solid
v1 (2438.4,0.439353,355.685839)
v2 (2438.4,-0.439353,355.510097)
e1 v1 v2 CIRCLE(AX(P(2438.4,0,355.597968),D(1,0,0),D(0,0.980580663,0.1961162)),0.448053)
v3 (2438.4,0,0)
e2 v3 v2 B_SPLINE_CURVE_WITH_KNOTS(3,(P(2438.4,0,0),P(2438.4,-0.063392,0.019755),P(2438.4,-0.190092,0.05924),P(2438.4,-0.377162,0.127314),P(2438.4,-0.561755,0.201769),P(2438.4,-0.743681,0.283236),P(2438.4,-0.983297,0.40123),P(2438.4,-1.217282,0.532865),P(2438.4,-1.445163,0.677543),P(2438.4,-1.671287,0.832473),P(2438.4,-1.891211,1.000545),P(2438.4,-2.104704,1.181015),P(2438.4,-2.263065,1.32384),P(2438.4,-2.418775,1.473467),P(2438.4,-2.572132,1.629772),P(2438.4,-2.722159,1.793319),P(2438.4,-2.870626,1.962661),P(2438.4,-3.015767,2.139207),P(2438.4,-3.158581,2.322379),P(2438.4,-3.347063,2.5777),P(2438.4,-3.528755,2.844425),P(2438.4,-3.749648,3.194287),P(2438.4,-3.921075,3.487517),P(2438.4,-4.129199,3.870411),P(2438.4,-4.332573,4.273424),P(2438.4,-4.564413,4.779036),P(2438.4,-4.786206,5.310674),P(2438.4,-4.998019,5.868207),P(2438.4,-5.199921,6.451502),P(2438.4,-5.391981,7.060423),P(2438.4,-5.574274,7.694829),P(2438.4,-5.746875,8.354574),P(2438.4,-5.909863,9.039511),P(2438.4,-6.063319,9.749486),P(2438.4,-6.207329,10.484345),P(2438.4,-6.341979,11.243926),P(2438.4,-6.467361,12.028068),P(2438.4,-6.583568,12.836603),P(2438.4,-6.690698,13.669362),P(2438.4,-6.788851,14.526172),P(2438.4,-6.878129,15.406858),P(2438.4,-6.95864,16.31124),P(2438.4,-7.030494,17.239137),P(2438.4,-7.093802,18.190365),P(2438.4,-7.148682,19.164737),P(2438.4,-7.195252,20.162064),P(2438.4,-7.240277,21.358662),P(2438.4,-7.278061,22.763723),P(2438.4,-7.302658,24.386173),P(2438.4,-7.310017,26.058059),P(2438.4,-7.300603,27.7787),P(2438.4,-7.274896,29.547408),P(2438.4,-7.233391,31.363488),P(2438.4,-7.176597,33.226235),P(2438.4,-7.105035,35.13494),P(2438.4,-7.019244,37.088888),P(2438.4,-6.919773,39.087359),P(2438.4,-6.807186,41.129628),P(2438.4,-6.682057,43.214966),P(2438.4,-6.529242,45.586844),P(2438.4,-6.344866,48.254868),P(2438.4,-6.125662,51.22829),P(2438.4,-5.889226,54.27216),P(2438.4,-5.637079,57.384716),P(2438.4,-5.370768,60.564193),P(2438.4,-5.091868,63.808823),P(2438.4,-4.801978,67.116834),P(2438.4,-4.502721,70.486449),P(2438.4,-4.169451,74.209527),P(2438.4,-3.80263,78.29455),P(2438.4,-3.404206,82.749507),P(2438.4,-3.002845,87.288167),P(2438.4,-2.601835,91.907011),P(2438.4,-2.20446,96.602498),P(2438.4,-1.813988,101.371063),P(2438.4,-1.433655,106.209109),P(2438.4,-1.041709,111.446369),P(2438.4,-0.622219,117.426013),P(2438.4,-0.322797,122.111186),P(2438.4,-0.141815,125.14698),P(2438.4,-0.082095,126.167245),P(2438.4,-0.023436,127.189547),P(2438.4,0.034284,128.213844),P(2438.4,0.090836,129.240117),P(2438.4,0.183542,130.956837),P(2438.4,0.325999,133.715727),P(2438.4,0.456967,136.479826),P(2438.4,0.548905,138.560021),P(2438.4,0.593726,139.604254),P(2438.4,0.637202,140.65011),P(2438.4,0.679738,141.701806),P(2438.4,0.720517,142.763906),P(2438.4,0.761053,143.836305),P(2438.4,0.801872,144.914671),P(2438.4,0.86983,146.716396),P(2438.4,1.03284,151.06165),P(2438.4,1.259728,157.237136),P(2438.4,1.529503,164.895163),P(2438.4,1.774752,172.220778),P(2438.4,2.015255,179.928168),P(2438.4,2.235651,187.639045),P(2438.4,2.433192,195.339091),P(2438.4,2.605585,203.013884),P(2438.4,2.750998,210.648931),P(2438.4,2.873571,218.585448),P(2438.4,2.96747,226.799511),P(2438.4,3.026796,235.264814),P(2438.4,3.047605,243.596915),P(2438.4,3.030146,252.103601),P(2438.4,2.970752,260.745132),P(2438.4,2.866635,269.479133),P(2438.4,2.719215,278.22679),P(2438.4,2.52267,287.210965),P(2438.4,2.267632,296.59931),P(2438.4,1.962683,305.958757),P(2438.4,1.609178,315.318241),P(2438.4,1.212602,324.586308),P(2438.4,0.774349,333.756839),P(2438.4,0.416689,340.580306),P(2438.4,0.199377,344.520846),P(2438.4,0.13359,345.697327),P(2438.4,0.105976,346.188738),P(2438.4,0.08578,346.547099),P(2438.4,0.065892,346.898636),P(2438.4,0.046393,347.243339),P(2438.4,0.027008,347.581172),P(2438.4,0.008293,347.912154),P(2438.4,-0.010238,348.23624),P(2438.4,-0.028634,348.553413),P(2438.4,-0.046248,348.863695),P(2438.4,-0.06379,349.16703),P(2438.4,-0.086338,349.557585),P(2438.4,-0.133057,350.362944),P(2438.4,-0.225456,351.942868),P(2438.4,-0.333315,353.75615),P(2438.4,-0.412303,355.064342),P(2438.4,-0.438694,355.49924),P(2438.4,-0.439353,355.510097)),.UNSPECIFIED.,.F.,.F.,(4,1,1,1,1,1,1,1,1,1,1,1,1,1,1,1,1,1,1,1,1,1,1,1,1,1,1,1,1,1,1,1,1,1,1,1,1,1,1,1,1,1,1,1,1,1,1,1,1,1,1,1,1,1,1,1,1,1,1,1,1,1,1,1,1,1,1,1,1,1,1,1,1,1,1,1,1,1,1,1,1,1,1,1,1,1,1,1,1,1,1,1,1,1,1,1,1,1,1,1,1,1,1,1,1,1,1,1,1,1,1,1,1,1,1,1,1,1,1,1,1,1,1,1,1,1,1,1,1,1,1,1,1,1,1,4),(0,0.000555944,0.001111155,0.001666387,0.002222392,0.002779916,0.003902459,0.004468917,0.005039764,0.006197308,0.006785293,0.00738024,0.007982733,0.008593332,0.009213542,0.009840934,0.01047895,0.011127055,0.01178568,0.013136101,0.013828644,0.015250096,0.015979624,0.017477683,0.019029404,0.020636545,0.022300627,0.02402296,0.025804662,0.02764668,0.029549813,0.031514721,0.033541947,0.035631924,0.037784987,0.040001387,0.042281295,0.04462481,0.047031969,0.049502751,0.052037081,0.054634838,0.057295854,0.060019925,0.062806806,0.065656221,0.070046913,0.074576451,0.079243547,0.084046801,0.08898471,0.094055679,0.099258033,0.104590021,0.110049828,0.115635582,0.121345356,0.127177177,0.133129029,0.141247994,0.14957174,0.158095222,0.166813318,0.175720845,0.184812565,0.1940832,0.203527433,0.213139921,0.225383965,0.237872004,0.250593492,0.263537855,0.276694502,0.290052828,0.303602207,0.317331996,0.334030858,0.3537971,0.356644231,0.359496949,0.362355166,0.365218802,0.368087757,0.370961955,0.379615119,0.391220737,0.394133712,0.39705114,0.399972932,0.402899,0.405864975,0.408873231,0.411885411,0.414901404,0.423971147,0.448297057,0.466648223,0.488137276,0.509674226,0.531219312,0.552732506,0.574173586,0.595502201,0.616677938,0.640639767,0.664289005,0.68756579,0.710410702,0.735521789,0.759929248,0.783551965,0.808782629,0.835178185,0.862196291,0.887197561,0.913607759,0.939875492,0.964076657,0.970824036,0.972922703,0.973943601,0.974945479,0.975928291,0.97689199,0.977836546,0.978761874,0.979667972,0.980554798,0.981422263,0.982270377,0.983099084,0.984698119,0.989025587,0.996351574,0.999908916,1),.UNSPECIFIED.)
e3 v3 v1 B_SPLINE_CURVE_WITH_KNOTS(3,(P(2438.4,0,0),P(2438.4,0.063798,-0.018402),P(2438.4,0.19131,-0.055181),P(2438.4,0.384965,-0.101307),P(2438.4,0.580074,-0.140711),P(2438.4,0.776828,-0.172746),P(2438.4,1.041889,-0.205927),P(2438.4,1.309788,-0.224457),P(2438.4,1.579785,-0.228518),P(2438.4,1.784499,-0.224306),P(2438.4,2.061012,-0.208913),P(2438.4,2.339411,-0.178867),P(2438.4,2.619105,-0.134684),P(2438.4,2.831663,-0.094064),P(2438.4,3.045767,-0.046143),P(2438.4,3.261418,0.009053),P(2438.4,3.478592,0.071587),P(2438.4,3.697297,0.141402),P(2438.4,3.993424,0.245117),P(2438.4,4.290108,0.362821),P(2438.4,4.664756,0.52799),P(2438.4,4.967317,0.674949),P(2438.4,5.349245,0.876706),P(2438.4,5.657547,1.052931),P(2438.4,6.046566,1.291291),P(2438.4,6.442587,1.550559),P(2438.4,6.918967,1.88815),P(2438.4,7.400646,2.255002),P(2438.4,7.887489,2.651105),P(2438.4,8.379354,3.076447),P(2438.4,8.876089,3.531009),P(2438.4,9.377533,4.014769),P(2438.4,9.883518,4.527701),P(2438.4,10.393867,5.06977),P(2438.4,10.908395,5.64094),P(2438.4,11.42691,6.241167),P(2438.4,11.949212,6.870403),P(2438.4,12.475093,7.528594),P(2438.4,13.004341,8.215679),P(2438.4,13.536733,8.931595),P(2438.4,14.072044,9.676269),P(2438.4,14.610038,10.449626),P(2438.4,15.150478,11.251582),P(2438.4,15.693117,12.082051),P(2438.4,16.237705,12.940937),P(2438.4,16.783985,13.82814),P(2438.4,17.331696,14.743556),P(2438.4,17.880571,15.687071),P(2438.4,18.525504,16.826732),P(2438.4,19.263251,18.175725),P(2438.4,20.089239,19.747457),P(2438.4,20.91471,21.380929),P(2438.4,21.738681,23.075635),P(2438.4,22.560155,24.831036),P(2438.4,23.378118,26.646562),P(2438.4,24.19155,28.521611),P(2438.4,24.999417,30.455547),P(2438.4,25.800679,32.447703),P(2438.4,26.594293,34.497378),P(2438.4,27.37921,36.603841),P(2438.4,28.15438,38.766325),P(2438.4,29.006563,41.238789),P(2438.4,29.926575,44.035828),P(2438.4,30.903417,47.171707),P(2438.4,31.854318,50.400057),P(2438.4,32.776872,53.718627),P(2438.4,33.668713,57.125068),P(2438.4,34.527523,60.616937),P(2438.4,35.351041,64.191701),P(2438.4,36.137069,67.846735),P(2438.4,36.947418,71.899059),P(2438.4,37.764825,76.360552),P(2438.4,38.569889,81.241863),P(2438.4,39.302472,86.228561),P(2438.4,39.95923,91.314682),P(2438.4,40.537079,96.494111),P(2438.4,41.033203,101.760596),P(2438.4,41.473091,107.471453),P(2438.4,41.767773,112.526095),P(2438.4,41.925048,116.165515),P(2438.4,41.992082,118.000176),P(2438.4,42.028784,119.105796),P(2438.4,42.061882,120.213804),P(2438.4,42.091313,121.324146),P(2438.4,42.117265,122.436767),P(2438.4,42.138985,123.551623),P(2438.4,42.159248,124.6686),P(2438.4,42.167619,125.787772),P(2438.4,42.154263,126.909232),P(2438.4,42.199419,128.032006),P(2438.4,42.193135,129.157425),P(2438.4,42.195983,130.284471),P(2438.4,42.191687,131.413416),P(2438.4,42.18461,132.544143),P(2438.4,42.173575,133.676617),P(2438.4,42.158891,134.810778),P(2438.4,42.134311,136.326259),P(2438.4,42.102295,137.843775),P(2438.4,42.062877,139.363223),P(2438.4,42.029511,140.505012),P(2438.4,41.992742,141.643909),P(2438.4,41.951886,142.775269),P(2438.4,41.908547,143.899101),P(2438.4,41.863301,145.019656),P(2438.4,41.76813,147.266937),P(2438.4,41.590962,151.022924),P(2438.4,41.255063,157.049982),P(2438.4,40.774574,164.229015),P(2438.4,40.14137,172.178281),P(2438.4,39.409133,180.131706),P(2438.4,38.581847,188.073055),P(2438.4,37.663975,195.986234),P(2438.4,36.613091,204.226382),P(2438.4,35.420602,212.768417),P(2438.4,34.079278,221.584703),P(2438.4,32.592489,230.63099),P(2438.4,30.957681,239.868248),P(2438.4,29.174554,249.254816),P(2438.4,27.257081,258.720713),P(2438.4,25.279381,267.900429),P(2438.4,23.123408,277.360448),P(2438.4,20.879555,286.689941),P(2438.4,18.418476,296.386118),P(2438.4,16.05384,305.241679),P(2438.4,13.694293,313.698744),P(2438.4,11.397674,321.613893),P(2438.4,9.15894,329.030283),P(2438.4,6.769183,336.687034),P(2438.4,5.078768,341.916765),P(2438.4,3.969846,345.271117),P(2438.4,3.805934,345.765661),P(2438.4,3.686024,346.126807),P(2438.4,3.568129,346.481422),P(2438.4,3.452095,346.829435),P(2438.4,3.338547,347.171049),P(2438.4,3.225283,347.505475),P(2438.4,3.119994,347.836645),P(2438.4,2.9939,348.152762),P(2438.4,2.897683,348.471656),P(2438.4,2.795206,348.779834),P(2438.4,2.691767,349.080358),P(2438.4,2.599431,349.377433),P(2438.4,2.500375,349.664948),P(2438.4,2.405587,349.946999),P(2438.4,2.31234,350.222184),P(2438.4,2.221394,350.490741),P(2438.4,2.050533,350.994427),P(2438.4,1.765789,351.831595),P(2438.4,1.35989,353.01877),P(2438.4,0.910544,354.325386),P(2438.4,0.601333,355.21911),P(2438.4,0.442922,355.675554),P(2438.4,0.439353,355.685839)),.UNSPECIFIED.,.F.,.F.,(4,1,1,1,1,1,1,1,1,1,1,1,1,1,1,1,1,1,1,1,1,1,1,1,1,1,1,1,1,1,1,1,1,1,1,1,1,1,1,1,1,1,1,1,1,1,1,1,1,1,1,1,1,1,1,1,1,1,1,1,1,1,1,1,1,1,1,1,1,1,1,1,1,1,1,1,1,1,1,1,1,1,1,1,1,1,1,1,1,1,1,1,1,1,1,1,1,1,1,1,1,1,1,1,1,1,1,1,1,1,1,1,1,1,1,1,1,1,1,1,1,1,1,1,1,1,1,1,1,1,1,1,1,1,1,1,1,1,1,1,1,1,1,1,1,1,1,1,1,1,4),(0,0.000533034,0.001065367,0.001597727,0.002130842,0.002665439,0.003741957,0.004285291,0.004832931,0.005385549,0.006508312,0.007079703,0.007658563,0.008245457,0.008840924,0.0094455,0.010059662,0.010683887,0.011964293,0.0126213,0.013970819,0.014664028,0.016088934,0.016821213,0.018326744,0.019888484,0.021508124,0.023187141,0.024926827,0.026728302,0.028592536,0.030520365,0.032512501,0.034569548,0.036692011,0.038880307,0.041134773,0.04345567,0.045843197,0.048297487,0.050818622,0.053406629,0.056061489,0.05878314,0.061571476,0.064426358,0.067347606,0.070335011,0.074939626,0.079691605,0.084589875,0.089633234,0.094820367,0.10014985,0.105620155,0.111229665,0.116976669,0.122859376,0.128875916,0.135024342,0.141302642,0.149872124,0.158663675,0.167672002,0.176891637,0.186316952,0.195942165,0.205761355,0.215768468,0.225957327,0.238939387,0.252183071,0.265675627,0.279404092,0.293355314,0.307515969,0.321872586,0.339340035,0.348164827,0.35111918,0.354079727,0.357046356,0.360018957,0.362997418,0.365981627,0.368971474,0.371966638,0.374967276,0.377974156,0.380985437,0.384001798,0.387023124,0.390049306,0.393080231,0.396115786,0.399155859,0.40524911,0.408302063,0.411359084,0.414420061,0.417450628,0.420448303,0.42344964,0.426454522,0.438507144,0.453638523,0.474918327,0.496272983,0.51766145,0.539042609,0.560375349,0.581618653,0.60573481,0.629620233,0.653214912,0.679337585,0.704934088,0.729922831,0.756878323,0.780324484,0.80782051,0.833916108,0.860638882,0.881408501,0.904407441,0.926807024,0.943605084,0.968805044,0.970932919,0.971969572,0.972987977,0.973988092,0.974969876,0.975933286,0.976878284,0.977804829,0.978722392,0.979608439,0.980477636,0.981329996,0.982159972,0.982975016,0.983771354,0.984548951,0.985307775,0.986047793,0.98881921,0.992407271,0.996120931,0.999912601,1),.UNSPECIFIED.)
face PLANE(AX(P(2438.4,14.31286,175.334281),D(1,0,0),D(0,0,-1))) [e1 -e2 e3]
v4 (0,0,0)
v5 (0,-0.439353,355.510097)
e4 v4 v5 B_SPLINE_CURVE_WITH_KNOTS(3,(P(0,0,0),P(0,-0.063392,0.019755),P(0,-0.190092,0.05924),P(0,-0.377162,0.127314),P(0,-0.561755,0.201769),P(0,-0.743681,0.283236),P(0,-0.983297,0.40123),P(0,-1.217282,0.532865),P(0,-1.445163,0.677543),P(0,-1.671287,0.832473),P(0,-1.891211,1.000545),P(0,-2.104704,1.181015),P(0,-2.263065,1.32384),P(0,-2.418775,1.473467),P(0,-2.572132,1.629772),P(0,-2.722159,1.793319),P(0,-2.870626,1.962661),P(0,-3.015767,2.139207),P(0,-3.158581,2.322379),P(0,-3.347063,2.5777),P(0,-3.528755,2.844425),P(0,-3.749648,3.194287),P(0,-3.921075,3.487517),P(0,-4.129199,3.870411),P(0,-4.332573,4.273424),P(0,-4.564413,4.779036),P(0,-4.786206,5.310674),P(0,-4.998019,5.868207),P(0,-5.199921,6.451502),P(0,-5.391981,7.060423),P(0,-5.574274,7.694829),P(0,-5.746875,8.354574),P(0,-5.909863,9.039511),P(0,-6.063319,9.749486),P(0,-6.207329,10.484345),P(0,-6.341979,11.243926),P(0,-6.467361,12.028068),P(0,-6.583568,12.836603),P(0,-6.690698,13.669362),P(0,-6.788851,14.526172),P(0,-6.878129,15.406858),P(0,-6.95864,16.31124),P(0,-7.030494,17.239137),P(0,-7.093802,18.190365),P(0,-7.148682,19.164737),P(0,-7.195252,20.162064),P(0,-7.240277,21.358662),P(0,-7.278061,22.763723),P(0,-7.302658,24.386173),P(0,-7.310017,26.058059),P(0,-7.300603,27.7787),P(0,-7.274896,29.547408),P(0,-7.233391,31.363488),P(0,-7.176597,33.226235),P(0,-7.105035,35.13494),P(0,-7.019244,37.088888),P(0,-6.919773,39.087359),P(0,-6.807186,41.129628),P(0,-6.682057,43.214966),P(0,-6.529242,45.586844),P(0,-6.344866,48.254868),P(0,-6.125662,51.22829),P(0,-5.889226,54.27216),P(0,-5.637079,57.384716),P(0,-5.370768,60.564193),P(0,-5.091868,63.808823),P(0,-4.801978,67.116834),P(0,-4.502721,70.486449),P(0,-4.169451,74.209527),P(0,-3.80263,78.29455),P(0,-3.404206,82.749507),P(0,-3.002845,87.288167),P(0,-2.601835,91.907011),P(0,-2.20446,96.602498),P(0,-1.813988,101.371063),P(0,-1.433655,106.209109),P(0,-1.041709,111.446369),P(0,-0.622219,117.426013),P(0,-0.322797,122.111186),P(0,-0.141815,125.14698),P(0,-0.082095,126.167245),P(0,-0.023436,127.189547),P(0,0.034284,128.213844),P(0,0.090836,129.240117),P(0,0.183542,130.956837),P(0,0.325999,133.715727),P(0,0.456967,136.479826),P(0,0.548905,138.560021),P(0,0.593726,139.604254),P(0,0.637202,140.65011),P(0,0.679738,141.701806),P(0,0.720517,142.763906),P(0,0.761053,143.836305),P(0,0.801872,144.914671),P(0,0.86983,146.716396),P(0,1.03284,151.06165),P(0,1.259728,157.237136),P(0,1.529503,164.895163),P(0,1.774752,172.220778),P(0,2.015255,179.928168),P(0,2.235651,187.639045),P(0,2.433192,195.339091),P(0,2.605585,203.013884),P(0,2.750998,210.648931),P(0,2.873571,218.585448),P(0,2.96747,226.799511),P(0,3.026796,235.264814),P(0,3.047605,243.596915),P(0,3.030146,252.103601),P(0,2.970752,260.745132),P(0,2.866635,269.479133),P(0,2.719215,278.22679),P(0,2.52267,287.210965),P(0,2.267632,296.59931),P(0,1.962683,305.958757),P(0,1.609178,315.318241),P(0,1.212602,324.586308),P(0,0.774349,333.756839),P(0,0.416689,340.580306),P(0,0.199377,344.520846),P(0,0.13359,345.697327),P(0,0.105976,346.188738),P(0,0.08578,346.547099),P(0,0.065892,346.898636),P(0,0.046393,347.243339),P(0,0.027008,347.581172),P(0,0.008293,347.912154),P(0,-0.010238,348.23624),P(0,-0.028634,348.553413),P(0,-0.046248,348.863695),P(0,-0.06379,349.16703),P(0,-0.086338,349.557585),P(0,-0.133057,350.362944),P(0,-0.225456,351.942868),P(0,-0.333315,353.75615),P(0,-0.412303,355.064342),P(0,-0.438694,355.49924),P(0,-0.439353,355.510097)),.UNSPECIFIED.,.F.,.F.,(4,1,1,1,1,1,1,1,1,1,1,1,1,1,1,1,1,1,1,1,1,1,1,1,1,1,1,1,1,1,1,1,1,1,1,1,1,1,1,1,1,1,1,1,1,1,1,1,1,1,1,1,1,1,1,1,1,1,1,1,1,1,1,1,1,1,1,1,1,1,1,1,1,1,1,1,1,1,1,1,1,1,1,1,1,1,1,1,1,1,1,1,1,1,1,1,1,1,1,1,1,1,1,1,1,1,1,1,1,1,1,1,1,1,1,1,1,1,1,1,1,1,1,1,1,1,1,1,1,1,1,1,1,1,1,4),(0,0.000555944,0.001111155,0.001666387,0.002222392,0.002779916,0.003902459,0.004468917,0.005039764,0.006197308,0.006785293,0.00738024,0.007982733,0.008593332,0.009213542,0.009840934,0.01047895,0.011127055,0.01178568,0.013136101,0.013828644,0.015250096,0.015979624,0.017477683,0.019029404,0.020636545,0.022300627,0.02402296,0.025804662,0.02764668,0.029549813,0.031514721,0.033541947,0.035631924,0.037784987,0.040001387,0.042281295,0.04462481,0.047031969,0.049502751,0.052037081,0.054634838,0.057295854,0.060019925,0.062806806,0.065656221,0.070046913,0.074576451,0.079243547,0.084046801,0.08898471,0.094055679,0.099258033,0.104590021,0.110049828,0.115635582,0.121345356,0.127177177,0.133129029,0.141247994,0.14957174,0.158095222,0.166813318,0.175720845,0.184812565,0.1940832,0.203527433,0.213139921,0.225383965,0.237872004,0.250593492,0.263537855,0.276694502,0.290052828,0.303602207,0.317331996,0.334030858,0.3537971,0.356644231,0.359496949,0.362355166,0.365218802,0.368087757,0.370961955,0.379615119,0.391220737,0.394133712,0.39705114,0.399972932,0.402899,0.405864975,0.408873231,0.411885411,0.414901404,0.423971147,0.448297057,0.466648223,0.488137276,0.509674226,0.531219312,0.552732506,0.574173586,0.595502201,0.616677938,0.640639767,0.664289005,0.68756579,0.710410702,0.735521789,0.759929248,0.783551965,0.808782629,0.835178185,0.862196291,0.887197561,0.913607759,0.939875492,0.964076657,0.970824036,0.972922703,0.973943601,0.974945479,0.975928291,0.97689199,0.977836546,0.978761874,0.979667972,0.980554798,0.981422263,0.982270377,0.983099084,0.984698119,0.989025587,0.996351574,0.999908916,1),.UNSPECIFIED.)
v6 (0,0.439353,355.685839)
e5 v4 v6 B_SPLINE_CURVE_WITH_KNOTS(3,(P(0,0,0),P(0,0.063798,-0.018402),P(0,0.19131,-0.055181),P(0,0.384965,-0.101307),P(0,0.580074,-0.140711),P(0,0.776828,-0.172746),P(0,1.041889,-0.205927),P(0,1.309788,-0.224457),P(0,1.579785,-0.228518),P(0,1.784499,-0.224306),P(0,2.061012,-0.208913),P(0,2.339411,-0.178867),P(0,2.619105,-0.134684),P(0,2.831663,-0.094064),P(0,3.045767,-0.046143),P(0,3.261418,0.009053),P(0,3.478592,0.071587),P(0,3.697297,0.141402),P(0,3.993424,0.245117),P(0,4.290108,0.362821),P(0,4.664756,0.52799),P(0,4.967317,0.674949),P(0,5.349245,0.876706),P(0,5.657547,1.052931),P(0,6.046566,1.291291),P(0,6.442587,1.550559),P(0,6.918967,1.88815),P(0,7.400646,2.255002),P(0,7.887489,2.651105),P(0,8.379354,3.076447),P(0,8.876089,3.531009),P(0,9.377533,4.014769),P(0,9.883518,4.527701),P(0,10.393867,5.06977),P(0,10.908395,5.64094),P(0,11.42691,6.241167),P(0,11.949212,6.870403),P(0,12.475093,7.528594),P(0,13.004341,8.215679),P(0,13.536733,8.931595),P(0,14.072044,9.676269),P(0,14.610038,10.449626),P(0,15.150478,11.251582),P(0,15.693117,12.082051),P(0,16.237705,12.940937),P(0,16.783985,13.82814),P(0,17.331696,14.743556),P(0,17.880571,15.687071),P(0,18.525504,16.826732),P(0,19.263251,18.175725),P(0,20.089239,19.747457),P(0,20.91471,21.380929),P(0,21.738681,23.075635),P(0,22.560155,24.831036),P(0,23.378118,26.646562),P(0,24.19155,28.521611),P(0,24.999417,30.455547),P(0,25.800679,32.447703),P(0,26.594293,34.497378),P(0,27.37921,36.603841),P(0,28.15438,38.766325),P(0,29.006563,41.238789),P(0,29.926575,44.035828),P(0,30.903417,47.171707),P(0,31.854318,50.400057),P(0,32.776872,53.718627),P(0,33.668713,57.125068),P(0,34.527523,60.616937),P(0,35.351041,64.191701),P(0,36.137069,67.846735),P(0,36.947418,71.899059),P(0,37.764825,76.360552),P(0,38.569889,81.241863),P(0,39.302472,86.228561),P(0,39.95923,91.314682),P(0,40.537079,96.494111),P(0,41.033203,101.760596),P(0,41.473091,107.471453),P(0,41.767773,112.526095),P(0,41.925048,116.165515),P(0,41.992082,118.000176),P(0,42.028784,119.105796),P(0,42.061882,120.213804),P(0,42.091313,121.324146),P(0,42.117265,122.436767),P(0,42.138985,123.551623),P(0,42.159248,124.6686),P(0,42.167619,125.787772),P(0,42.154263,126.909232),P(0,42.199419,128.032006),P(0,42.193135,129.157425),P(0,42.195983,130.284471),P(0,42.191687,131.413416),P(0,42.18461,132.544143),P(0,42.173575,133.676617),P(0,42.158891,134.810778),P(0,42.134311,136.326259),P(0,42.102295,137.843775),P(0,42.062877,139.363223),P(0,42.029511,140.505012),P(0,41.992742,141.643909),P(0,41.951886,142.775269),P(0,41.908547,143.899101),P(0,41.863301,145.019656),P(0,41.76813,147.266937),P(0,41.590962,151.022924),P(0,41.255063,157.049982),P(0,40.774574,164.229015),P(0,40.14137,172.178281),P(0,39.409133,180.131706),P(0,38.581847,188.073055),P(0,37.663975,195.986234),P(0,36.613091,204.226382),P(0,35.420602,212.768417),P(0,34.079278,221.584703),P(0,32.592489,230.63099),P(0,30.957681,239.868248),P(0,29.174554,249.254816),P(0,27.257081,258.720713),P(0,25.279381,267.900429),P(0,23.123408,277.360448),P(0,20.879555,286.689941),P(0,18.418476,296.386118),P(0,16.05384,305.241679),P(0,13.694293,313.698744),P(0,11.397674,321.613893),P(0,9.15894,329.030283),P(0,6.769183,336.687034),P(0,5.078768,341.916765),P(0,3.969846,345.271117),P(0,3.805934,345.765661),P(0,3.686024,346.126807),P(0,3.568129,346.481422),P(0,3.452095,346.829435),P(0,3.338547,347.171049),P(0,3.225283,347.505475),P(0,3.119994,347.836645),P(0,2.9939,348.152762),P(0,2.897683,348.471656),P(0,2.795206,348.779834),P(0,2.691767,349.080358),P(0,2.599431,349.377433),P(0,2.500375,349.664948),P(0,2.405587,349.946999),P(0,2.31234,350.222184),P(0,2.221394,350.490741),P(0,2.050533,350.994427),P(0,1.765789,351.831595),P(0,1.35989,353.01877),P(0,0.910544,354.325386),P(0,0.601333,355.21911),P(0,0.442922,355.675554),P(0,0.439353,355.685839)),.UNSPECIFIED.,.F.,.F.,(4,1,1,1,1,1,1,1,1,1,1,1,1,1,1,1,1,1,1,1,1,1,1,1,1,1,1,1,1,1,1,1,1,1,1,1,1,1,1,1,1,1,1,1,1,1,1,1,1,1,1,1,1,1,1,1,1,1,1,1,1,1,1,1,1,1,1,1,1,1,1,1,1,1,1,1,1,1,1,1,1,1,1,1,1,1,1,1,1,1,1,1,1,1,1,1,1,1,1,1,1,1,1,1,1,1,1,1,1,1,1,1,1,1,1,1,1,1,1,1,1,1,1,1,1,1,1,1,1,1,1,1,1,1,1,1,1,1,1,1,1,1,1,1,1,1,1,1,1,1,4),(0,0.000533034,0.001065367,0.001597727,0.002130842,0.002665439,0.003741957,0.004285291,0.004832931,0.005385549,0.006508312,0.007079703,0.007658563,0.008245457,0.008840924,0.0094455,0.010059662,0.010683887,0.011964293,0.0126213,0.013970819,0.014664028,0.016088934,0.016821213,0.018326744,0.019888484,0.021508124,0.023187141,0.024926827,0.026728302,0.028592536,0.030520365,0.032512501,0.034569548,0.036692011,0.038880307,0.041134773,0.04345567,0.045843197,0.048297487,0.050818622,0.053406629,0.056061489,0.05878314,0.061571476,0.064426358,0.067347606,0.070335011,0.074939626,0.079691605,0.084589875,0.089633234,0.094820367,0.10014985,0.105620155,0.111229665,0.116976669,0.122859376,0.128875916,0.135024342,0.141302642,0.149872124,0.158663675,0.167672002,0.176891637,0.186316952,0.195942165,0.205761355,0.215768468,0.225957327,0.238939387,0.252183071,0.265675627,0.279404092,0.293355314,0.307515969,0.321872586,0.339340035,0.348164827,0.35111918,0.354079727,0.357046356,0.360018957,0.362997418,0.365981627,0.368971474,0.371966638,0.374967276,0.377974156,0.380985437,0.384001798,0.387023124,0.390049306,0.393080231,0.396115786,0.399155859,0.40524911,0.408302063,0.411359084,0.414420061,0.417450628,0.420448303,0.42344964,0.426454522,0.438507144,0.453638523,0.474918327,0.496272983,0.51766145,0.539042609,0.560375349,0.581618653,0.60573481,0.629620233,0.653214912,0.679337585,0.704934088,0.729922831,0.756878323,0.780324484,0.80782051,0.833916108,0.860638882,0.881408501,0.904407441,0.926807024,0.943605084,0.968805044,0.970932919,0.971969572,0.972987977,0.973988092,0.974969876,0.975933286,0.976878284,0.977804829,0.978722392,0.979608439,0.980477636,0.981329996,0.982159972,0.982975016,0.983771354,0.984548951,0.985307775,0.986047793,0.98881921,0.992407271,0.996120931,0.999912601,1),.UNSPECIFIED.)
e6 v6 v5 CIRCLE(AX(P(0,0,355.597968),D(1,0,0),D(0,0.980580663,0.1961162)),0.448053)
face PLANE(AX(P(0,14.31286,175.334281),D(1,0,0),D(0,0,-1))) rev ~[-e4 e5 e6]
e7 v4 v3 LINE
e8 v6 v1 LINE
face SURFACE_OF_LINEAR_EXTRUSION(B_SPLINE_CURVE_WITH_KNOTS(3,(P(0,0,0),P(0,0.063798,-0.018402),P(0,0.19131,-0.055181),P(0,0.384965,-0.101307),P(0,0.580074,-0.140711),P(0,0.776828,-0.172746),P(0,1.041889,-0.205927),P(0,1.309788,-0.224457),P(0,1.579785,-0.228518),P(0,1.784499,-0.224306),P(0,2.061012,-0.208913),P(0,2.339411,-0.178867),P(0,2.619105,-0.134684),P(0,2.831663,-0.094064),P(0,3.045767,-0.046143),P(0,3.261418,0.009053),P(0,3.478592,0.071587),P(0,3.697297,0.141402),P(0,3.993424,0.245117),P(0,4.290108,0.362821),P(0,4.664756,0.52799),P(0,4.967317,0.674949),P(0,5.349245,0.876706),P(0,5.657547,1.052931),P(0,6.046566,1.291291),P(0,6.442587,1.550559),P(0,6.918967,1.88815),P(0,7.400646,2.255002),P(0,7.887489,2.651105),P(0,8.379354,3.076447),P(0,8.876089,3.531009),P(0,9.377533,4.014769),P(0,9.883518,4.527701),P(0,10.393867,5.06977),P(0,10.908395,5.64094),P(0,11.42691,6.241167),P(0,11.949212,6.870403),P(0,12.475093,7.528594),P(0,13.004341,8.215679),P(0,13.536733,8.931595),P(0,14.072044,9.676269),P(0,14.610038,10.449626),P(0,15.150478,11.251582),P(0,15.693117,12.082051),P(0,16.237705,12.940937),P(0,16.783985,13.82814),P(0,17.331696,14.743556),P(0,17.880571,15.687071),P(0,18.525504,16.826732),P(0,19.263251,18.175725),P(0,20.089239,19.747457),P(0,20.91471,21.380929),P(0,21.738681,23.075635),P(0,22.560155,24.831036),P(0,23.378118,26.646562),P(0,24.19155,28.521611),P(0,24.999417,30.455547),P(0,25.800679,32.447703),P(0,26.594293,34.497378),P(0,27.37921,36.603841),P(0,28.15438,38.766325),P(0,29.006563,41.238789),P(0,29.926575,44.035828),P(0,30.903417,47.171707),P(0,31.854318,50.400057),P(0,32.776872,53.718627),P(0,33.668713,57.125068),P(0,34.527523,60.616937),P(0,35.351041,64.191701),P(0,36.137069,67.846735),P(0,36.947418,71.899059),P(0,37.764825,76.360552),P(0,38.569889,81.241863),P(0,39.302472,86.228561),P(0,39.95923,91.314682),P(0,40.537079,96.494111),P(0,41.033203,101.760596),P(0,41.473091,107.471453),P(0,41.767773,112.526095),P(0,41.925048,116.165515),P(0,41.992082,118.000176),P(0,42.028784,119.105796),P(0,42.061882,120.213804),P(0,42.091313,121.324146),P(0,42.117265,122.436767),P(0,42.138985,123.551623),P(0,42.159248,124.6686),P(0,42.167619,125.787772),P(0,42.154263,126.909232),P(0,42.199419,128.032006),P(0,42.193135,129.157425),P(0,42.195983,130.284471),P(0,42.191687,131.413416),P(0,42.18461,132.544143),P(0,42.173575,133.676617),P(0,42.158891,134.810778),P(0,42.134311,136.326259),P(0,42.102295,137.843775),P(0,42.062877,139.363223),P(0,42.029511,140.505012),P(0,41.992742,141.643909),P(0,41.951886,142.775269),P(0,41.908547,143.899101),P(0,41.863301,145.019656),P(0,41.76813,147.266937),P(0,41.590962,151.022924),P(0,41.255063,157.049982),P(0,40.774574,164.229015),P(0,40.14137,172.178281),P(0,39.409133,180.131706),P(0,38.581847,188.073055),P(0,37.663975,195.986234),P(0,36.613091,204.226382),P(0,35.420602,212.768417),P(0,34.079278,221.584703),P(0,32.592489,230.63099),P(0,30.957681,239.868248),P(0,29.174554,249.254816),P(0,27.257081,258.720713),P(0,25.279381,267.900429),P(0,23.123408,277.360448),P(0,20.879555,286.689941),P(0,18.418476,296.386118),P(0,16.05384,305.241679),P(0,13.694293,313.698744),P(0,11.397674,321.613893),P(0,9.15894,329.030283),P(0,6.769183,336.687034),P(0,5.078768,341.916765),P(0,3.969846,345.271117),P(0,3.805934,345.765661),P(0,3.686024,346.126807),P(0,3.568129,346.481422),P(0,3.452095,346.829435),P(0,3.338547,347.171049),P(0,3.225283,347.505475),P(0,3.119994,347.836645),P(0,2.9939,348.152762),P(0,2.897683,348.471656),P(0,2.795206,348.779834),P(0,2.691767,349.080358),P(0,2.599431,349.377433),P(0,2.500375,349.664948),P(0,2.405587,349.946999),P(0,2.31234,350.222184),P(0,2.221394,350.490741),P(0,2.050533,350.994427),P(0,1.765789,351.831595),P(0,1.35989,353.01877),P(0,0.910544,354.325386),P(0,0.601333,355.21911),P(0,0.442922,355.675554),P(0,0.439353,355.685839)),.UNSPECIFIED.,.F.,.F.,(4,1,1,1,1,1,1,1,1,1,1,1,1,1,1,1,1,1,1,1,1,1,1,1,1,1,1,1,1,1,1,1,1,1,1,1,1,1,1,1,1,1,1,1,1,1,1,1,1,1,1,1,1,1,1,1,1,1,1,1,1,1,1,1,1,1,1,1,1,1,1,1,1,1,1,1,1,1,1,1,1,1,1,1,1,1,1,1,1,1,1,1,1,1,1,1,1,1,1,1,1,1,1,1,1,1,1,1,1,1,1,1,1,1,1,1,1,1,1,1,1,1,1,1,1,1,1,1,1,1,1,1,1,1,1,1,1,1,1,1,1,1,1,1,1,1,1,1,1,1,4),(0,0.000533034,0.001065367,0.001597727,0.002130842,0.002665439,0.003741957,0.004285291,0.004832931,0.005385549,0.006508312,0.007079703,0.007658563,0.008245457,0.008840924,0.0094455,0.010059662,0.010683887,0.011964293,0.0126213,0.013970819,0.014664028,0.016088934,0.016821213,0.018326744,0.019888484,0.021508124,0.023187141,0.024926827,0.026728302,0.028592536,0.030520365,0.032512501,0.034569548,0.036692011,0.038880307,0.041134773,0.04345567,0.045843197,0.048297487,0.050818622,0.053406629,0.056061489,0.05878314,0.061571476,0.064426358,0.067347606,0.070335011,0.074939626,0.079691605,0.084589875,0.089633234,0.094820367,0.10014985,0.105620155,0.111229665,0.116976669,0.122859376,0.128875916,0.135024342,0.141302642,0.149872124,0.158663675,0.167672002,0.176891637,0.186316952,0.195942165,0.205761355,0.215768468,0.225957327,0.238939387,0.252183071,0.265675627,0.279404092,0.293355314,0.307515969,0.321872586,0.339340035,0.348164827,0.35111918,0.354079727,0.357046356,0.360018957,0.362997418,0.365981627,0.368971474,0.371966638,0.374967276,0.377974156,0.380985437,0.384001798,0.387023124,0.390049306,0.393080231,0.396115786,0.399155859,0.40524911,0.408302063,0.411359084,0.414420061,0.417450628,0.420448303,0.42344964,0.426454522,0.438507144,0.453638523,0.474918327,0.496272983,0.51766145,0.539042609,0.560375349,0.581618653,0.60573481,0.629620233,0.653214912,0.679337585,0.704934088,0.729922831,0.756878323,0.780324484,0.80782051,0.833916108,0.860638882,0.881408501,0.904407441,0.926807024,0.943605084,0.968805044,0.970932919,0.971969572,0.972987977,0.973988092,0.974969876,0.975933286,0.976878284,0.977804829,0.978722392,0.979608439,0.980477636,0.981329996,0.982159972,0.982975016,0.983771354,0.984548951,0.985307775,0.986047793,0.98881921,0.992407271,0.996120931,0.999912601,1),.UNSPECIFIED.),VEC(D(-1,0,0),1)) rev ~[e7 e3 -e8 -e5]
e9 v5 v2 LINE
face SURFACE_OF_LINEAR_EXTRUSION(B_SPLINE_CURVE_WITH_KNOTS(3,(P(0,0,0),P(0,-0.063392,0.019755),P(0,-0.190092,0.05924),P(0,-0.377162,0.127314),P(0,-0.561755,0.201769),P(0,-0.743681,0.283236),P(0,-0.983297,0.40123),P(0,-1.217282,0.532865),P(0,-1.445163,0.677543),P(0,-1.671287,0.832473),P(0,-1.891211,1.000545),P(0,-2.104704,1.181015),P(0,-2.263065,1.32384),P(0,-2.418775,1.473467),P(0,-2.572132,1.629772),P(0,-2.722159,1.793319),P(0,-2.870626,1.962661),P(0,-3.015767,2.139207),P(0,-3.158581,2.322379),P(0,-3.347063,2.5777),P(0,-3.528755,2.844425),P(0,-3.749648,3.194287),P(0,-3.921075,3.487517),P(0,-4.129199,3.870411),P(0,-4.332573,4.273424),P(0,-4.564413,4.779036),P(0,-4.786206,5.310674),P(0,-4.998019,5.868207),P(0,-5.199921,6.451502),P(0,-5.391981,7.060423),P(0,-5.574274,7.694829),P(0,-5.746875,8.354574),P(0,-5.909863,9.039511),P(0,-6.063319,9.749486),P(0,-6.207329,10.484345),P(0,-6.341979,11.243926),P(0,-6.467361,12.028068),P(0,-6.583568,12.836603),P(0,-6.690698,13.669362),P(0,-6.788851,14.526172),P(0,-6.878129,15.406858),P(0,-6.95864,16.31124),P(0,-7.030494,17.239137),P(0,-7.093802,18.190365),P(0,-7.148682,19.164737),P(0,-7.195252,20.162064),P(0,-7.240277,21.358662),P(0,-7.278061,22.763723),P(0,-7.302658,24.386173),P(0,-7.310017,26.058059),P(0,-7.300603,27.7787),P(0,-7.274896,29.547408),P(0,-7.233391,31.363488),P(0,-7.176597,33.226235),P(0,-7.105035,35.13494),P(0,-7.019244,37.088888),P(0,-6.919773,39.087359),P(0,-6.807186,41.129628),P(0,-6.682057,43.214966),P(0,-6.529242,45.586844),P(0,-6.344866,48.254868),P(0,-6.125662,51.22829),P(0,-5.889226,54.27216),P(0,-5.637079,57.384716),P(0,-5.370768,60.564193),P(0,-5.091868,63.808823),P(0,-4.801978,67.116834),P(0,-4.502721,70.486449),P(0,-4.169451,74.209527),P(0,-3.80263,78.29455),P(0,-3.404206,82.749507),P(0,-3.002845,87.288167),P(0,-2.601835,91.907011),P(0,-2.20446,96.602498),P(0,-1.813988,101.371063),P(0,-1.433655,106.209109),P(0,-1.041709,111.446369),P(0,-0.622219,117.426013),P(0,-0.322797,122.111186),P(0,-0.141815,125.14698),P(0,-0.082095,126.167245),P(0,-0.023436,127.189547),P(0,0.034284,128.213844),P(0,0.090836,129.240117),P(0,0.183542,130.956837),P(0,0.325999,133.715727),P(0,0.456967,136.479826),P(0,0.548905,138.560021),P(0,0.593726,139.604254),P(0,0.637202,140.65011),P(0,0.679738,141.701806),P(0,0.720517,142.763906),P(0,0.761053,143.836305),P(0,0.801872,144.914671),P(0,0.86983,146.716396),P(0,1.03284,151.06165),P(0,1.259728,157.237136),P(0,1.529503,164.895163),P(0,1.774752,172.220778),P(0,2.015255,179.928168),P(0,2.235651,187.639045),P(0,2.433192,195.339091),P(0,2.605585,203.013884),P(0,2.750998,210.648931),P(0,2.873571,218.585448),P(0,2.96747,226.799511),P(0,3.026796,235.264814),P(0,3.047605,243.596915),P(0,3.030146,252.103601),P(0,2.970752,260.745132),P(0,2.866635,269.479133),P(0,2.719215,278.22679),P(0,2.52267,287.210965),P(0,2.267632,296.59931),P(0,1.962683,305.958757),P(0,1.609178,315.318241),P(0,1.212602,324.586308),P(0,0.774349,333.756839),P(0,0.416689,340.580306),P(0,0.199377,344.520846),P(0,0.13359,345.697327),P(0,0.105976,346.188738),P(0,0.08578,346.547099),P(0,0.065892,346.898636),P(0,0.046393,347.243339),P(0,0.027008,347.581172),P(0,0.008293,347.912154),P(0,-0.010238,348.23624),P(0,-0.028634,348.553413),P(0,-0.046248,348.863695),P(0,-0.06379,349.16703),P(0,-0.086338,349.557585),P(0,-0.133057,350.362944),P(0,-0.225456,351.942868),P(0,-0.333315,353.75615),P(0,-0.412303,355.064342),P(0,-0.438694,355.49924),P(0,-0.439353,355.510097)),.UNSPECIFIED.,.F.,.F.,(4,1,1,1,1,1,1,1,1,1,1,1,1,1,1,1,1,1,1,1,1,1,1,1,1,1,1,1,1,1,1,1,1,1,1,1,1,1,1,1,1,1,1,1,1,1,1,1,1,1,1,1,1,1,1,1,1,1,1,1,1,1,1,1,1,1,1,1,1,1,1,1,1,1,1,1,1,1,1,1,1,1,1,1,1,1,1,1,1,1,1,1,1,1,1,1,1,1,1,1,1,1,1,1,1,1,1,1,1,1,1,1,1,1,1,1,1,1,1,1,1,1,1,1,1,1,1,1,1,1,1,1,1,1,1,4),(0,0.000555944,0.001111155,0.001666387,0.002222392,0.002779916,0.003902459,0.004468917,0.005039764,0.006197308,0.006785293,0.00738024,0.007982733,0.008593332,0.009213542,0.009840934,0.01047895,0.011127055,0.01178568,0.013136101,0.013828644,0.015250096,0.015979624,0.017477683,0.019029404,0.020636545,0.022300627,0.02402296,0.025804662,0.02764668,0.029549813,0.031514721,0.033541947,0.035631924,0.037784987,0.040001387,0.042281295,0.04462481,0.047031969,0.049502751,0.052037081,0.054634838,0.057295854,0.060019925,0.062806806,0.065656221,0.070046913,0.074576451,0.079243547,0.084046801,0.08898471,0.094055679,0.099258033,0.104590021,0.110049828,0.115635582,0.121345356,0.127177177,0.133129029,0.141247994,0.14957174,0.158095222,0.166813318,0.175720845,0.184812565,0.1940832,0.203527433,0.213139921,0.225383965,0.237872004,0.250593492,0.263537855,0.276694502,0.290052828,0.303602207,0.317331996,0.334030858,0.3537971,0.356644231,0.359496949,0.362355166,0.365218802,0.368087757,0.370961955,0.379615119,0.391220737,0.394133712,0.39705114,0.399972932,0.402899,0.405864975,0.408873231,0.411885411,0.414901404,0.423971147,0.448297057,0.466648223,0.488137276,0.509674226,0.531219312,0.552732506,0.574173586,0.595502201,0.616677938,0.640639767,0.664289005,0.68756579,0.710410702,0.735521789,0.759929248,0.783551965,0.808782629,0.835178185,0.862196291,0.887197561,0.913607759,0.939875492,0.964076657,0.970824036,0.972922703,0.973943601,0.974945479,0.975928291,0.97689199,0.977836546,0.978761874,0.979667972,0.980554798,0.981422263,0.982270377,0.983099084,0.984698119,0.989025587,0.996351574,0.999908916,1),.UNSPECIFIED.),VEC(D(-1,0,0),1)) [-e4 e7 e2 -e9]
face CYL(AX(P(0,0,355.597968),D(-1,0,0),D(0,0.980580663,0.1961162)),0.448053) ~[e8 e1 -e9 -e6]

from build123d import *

# Parameters (mm, degrees)
BOSS_EXTRUDE1_DEPTH = 2438.4


with BuildPart() as part:
    # Sketch1 → Boss-Extrude1 (new body)
    with BuildSketch(Plane(origin=(0, 0, 0), x_dir=(0, 0, -1), z_dir=(1, 0, 0))):
        with BuildLine():
            ThreePointArc((-355.685838538, 0.439352538), (-356.037320538, -0.087870538), (-355.510097462, -0.439352538))
            add(Edge.make_bspline(
                [(0, 0), (-0.019755379, -0.063391982), (-0.059240074, -0.190092318), (-0.127313648, -0.377161852), (-0.201769084, -0.561755473), (-0.283236218, -0.74368145), (-0.401229555, -0.983296704), (-0.532864624, -1.217282066), (-0.677543161, -1.445163358), (-0.832473481, -1.671286592), (-1.000545371, -1.891211021), (-1.181014592, -2.104704238), (-1.323840021, -2.263065241), (-1.473467467, -2.418775062), (-1.629772428, -2.57213213), (-1.793319109, -2.722159443), (-1.962660756, -2.870625659), (-2.139206926, -3.015766682), (-2.322378983, -3.158581452), (-2.577700473, -3.347063464), (-2.844424509, -3.528754809), (-3.194286782, -3.749647806), (-3.487516586, -3.921075405), (-3.87041086, -4.129199294), (-4.273424465, -4.332572718), (-4.779036443, -4.56441261), (-5.310673724, -4.786205952), (-5.868206692, -4.998019105), (-6.451502181, -5.199920521), (-7.060423141, -5.391981083), (-7.694828766, -5.574273809), (-8.354574206, -5.74687486), (-9.039510887, -5.909862812), (-9.749486421, -6.063319275), (-10.484344769, -6.20732884), (-11.243926274, -6.341979224), (-12.028067851, -6.4673611), (-12.836603017, -6.583568456), (-13.66936209, -6.690698218), (-14.526172247, -6.788850646), (-15.406857662, -6.878129048), (-16.31123962, -6.958640174), (-17.239136645, -7.030493597), (-18.190364599, -7.093802197), (-19.164736783, -7.148682088), (-20.16206409, -7.195252426), (-21.358661642, -7.240276654), (-22.763722734, -7.278061209), (-24.386173154, -7.302658468), (-26.058058906, -7.310017196), (-27.778700039, -7.300603249), (-29.547408306, -7.274896412), (-31.363487585, -7.233391245), (-33.226234683, -7.176596507), (-35.134940043, -7.105035392), (-37.088888391, -7.019244258), (-39.087359371, -6.919773368), (-41.129628137, -6.807185763), (-43.214965874, -6.682057154), (-45.586844074, -6.529242304), (-48.254867836, -6.344866418), (-51.228290195, -6.125661597), (-54.272159796, -5.889226207), (-57.384715875, -5.637079142), (-60.564193309, -5.370767872), (-63.808823241, -5.091867655), (-67.116833543, -4.801978051), (-70.486449005, -4.502720522), (-74.209527362, -4.169451104), (-78.29454954, -3.802629564), (-82.749507202, -3.404206202), (-87.288167166, -3.002845032), (-91.90701073, -2.60183537), (-96.60249801, -2.204460215), (-101.371063284, -1.813987503), (-106.209109348, -1.433654819), (-111.446368952, -1.041708554), (-117.426012731, -0.622218912), (-122.111186005, -0.322797403), (-125.146979621, -0.141815347), (-126.167245196, -0.082095276), (-127.189546509, -0.023435517), (-128.213843599, 0.034283518), (-129.240117255, 0.090835741), (-130.956837052, 0.18354184), (-133.715726858, 0.325998836), (-136.479825969, 0.456967055), (-138.560020735, 0.548905086), (-139.604254418, 0.59372619), (-140.650109711, 0.637202423), (-141.70180636, 0.679738074), (-142.763905763, 0.720517464), (-143.836304943, 0.761052845), (-144.914670884, 0.801872229), (-146.716396008, 0.869830095), (-151.061650177, 1.032840465), (-157.23713556, 1.259727835), (-164.895162658, 1.52950338), (-172.22077764, 1.774752194), (-179.928168038, 2.015255375), (-187.639045381, 2.235650537), (-195.33909101, 2.433192185), (-203.013884498, 2.605584508), (-210.648931172, 2.750997621), (-218.585447663, 2.873571047), (-226.799510906, 2.967469901), (-235.264813686, 3.026796008), (-243.596915389, 3.04760479), (-252.103601004, 3.03014609), (-260.745132453, 2.970752325), (-269.479132859, 2.866635157), (-278.226790301, 2.719214681), (-287.210964758, 2.522670431), (-296.599309611, 2.267632404), (-305.95875748, 1.962682655), (-315.318240828, 1.60917752), (-324.586308344, 1.212601957), (-333.756838845, 0.774349316), (-340.580305667, 0.416689027), (-344.520845505, 0.199377251), (-345.697326662, 0.13358986), (-346.188737773, 0.105976064), (-346.547099145, 0.085780346), (-346.898636202, 0.06589224), (-347.243338834, 0.046393172), (-347.581172094, 0.027008155), (-347.912153544, 0.008292862), (-348.236240283, -0.010237967), (-348.55341335, -0.028633757), (-348.863695423, -0.046247632), (-349.167029501, -0.063790141), (-349.557584686, -0.086337725), (-350.362943782, -0.133056694), (-351.94286823, -0.225456384), (-353.756150238, -0.33331537), (-355.064341864, -0.412303097), (-355.499240064, -0.438693661), (-355.510097462, -0.439352538)],
                knots=[0, 0, 0, 0, 0.000555944, 0.001111155, 0.001666387, 0.002222392, 0.002779916, 0.003902459, 0.004468917, 0.005039764, 0.006197308, 0.006785293, 0.00738024, 0.007982733, 0.008593332, 0.009213542, 0.009840934, 0.01047895, 0.011127055, 0.01178568, 0.013136101, 0.013828644, 0.015250096, 0.015979624, 0.017477683, 0.019029404, 0.020636545, 0.022300627, 0.02402296, 0.025804662, 0.02764668, 0.029549813, 0.031514721, 0.033541947, 0.035631924, 0.037784987, 0.040001387, 0.042281295, 0.04462481, 0.047031969, 0.049502751, 0.052037081, 0.054634838, 0.057295854, 0.060019925, 0.062806806, 0.065656221, 0.070046913, 0.074576451, 0.079243547, 0.084046801, 0.08898471, 0.094055679, 0.099258033, 0.104590021, 0.110049828, 0.115635582, 0.121345356, 0.127177177, 0.133129029, 0.141247994, 0.14957174, 0.158095222, 0.166813318, 0.175720845, 0.184812565, 0.1940832, 0.203527433, 0.213139921, 0.225383965, 0.237872004, 0.250593492, 0.263537855, 0.276694502, 0.290052828, 0.303602207, 0.317331996, 0.334030858, 0.3537971, 0.356644231, 0.359496949, 0.362355166, 0.365218802, 0.368087757, 0.370961955, 0.379615119, 0.391220737, 0.394133712, 0.39705114, 0.399972932, 0.402899, 0.405864975, 0.408873231, 0.411885411, 0.414901404, 0.423971147, 0.448297057, 0.466648223, 0.488137276, 0.509674226, 0.531219312, 0.552732506, 0.574173586, 0.595502201, 0.616677938, 0.640639767, 0.664289005, 0.68756579, 0.710410702, 0.735521789, 0.759929248, 0.783551965, 0.808782629, 0.835178185, 0.862196291, 0.887197561, 0.913607759, 0.939875492, 0.964076657, 0.970824036, 0.972922703, 0.973943601, 0.974945479, 0.975928291, 0.97689199, 0.977836546, 0.978761874, 0.979667972, 0.980554798, 0.981422263, 0.982270377, 0.983099084, 0.984698119, 0.989025587, 0.996351574, 0.999908916, 1, 1, 1, 1], degree=3))
            add(Edge.make_bspline(
                [(0, 0), (0.018401648, 0.063798126), (0.05518073, 0.191310427), (0.101307259, 0.384964794), (0.140711492, 0.580073882), (0.172746086, 0.776827514), (0.205926936, 1.041889377), (0.224457263, 1.309788132), (0.228518311, 1.57978454), (0.224306484, 1.784499201), (0.208912995, 2.06101203), (0.178866768, 2.339411058), (0.13468422, 2.619104984), (0.094063769, 2.831662655), (0.046143064, 3.045766557), (-0.009053429, 3.261417881), (-0.071586752, 3.478592146), (-0.141402044, 3.697297363), (-0.245116882, 3.993424457), (-0.362820691, 4.290108118), (-0.527990156, 4.664756372), (-0.674949287, 4.967317442), (-0.87670641, 5.349244617), (-1.052931327, 5.657547288), (-1.291291409, 6.046565638), (-1.550558509, 6.44258679), (-1.888150171, 6.918967216), (-2.255001996, 7.400645963), (-2.651105296, 7.887489091), (-3.076446838, 8.379353894), (-3.531009017, 8.876088634), (-4.014769458, 9.377532899), (-4.52770065, 9.883518015), (-5.069770082, 10.393867065), (-5.640939976, 10.908395226), (-6.24116713, 11.426910127), (-6.870402997, 11.949211896), (-7.52859356, 12.475093429), (-8.215679182, 13.004340793), (-8.931594574, 13.536733312), (-9.676268958, 14.072043651), (-10.449625619, 14.610038433), (-11.25158227, 15.150478016), (-12.082050624, 15.693117146), (-12.940936658, 16.237704835), (-13.82814034, 16.783984865), (-14.743555807, 17.331695692), (-15.687071047, 17.880571123), (-16.826731718, 18.525503787), (-18.175724606, 19.263251072), (-19.747456954, 20.089238819), (-21.380929224, 20.914709644), (-23.075634853, 21.738680982), (-24.831035898, 22.56015451), (-26.646562119, 23.378118426), (-28.52161085, 24.191549899), (-30.455546925, 24.999416816), (-32.447702847, 25.800679364), (-34.49737836, 26.594292896), (-36.603840701, 27.37920952), (-38.766324725, 28.154379879), (-41.238788712, 29.006562699), (-44.035827758, 29.92657486), (-47.171706516, 30.903416526), (-50.400057074, 31.854317564), (-53.718626928, 32.776871778), (-57.125067879, 33.668712749), (-60.616937203, 34.527522846), (-64.191700588, 35.351040737), (-67.846734793, 36.137069204), (-71.899059442, 36.947418072), (-76.360551748, 37.764825416), (-81.241862633, 38.569888557), (-86.228561132, 39.302471635), (-91.314682258, 39.959230476), (-96.494110884, 40.537078645), (-101.760595601, 41.033203196), (-107.471452811, 41.473090681), (-112.526095092, 41.767772821), (-116.165514974, 41.925048138), (-118.000176395, 41.992082459), (-119.105796127, 42.028783958), (-120.213803585, 42.06188221), (-121.324145905, 42.091313172), (-122.436767283, 42.117265469), (-123.551622517, 42.138984767), (-124.668600274, 42.159247674), (-125.787772219, 42.167618518), (-126.909232061, 42.154263387), (-128.032005717, 42.19941876), (-129.157425431, 42.193134776), (-130.28447125, 42.195983253), (-131.413415664, 42.19168677), (-132.54414341, 42.184610239), (-133.676616914, 42.173574582), (-134.810777708, 42.158890599), (-136.326259324, 42.134310876), (-137.843775232, 42.102294997), (-139.36322285, 42.062876918), (-140.505012449, 42.029511257), (-141.643908597, 41.992742141), (-142.775268506, 41.951885815), (-143.899100699, 41.908546832), (-145.019656003, 41.863301329), (-147.266937438, 41.768130114), (-151.022924253, 41.590962224), (-157.049982062, 41.255063299), (-164.229015364, 40.7745739), (-172.178280731, 40.14137032), (-180.131705875, 39.409132746), (-188.073054584, 38.581847058), (-195.986234468, 37.663974929), (-204.22638173, 36.613090679), (-212.768416838, 35.420601551), (-221.584703065, 34.079278137), (-230.630989643, 32.592489198), (-239.868248139, 30.957680921), (-249.254815511, 29.174553816), (-258.720713256, 27.25708126), (-267.900428826, 25.279381481), (-277.360448397, 23.123408108), (-286.689941088, 20.879555465), (-296.386117663, 18.418475967), (-305.241679185, 16.053839659), (-313.69874367, 13.694293361), (-321.613892736, 11.397673997), (-329.030283492, 9.158940104), (-336.687034437, 6.769182801), (-341.916764937, 5.078768034), (-345.271117037, 3.969845996), (-345.7656608, 3.805934182), (-346.126807231, 3.686023902), (-346.481422279, 3.568128657), (-346.829435287, 3.452094681), (-347.171048652, 3.338547258), (-347.50547541, 3.22528275), (-347.836644864, 3.119994215), (-348.152762421, 2.993900359), (-348.471655849, 2.897682717), (-348.77983412, 2.795206339), (-349.080357783, 2.691767087), (-349.377432831, 2.599430911), (-349.66494777, 2.500374892), (-349.946998853, 2.405586803), (-350.222184372, 2.312340282), (-350.49074144, 2.221394289), (-350.994426854, 2.050533148), (-351.831595275, 1.765789037), (-353.018769948, 1.359889654), (-354.325386153, 0.910543803), (-355.219109639, 0.601332948), (-355.675554441, 0.442921748), (-355.685838538, 0.439352538)],
                knots=[0, 0, 0, 0, 0.000533034, 0.001065367, 0.001597727, 0.002130842, 0.002665439, 0.003741957, 0.004285291, 0.004832931, 0.005385549, 0.006508312, 0.007079703, 0.007658563, 0.008245457, 0.008840924, 0.0094455, 0.010059662, 0.010683887, 0.011964293, 0.0126213, 0.013970819, 0.014664028, 0.016088934, 0.016821213, 0.018326744, 0.019888484, 0.021508124, 0.023187141, 0.024926827, 0.026728302, 0.028592536, 0.030520365, 0.032512501, 0.034569548, 0.036692011, 0.038880307, 0.041134773, 0.04345567, 0.045843197, 0.048297487, 0.050818622, 0.053406629, 0.056061489, 0.05878314, 0.061571476, 0.064426358, 0.067347606, 0.070335011, 0.074939626, 0.079691605, 0.084589875, 0.089633234, 0.094820367, 0.10014985, 0.105620155, 0.111229665, 0.116976669, 0.122859376, 0.128875916, 0.135024342, 0.141302642, 0.149872124, 0.158663675, 0.167672002, 0.176891637, 0.186316952, 0.195942165, 0.205761355, 0.215768468, 0.225957327, 0.238939387, 0.252183071, 0.265675627, 0.279404092, 0.293355314, 0.307515969, 0.321872586, 0.339340035, 0.348164827, 0.35111918, 0.354079727, 0.357046356, 0.360018957, 0.362997418, 0.365981627, 0.368971474, 0.371966638, 0.374967276, 0.377974156, 0.380985437, 0.384001798, 0.387023124, 0.390049306, 0.393080231, 0.396115786, 0.399155859, 0.40524911, 0.408302063, 0.411359084, 0.414420061, 0.417450628, 0.420448303, 0.42344964, 0.426454522, 0.438507144, 0.453638523, 0.474918327, 0.496272983, 0.51766145, 0.539042609, 0.560375349, 0.581618653, 0.60573481, 0.629620233, 0.653214912, 0.679337585, 0.704934088, 0.729922831, 0.756878323, 0.780324484, 0.80782051, 0.833916108, 0.860638882, 0.881408501, 0.904407441, 0.926807024, 0.943605084, 0.968805044, 0.970932919, 0.971969572, 0.972987977, 0.973988092, 0.974969876, 0.975933286, 0.976878284, 0.977804829, 0.978722392, 0.979608439, 0.980477636, 0.981329996, 0.982159972, 0.982975016, 0.983771354, 0.984548951, 0.985307775, 0.986047793, 0.98881921, 0.992407271, 0.996120931, 0.999912601, 1, 1, 1, 1], degree=3))
        make_face()
    extrude(amount=BOSS_EXTRUDE1_DEPTH)


solid = part.part
